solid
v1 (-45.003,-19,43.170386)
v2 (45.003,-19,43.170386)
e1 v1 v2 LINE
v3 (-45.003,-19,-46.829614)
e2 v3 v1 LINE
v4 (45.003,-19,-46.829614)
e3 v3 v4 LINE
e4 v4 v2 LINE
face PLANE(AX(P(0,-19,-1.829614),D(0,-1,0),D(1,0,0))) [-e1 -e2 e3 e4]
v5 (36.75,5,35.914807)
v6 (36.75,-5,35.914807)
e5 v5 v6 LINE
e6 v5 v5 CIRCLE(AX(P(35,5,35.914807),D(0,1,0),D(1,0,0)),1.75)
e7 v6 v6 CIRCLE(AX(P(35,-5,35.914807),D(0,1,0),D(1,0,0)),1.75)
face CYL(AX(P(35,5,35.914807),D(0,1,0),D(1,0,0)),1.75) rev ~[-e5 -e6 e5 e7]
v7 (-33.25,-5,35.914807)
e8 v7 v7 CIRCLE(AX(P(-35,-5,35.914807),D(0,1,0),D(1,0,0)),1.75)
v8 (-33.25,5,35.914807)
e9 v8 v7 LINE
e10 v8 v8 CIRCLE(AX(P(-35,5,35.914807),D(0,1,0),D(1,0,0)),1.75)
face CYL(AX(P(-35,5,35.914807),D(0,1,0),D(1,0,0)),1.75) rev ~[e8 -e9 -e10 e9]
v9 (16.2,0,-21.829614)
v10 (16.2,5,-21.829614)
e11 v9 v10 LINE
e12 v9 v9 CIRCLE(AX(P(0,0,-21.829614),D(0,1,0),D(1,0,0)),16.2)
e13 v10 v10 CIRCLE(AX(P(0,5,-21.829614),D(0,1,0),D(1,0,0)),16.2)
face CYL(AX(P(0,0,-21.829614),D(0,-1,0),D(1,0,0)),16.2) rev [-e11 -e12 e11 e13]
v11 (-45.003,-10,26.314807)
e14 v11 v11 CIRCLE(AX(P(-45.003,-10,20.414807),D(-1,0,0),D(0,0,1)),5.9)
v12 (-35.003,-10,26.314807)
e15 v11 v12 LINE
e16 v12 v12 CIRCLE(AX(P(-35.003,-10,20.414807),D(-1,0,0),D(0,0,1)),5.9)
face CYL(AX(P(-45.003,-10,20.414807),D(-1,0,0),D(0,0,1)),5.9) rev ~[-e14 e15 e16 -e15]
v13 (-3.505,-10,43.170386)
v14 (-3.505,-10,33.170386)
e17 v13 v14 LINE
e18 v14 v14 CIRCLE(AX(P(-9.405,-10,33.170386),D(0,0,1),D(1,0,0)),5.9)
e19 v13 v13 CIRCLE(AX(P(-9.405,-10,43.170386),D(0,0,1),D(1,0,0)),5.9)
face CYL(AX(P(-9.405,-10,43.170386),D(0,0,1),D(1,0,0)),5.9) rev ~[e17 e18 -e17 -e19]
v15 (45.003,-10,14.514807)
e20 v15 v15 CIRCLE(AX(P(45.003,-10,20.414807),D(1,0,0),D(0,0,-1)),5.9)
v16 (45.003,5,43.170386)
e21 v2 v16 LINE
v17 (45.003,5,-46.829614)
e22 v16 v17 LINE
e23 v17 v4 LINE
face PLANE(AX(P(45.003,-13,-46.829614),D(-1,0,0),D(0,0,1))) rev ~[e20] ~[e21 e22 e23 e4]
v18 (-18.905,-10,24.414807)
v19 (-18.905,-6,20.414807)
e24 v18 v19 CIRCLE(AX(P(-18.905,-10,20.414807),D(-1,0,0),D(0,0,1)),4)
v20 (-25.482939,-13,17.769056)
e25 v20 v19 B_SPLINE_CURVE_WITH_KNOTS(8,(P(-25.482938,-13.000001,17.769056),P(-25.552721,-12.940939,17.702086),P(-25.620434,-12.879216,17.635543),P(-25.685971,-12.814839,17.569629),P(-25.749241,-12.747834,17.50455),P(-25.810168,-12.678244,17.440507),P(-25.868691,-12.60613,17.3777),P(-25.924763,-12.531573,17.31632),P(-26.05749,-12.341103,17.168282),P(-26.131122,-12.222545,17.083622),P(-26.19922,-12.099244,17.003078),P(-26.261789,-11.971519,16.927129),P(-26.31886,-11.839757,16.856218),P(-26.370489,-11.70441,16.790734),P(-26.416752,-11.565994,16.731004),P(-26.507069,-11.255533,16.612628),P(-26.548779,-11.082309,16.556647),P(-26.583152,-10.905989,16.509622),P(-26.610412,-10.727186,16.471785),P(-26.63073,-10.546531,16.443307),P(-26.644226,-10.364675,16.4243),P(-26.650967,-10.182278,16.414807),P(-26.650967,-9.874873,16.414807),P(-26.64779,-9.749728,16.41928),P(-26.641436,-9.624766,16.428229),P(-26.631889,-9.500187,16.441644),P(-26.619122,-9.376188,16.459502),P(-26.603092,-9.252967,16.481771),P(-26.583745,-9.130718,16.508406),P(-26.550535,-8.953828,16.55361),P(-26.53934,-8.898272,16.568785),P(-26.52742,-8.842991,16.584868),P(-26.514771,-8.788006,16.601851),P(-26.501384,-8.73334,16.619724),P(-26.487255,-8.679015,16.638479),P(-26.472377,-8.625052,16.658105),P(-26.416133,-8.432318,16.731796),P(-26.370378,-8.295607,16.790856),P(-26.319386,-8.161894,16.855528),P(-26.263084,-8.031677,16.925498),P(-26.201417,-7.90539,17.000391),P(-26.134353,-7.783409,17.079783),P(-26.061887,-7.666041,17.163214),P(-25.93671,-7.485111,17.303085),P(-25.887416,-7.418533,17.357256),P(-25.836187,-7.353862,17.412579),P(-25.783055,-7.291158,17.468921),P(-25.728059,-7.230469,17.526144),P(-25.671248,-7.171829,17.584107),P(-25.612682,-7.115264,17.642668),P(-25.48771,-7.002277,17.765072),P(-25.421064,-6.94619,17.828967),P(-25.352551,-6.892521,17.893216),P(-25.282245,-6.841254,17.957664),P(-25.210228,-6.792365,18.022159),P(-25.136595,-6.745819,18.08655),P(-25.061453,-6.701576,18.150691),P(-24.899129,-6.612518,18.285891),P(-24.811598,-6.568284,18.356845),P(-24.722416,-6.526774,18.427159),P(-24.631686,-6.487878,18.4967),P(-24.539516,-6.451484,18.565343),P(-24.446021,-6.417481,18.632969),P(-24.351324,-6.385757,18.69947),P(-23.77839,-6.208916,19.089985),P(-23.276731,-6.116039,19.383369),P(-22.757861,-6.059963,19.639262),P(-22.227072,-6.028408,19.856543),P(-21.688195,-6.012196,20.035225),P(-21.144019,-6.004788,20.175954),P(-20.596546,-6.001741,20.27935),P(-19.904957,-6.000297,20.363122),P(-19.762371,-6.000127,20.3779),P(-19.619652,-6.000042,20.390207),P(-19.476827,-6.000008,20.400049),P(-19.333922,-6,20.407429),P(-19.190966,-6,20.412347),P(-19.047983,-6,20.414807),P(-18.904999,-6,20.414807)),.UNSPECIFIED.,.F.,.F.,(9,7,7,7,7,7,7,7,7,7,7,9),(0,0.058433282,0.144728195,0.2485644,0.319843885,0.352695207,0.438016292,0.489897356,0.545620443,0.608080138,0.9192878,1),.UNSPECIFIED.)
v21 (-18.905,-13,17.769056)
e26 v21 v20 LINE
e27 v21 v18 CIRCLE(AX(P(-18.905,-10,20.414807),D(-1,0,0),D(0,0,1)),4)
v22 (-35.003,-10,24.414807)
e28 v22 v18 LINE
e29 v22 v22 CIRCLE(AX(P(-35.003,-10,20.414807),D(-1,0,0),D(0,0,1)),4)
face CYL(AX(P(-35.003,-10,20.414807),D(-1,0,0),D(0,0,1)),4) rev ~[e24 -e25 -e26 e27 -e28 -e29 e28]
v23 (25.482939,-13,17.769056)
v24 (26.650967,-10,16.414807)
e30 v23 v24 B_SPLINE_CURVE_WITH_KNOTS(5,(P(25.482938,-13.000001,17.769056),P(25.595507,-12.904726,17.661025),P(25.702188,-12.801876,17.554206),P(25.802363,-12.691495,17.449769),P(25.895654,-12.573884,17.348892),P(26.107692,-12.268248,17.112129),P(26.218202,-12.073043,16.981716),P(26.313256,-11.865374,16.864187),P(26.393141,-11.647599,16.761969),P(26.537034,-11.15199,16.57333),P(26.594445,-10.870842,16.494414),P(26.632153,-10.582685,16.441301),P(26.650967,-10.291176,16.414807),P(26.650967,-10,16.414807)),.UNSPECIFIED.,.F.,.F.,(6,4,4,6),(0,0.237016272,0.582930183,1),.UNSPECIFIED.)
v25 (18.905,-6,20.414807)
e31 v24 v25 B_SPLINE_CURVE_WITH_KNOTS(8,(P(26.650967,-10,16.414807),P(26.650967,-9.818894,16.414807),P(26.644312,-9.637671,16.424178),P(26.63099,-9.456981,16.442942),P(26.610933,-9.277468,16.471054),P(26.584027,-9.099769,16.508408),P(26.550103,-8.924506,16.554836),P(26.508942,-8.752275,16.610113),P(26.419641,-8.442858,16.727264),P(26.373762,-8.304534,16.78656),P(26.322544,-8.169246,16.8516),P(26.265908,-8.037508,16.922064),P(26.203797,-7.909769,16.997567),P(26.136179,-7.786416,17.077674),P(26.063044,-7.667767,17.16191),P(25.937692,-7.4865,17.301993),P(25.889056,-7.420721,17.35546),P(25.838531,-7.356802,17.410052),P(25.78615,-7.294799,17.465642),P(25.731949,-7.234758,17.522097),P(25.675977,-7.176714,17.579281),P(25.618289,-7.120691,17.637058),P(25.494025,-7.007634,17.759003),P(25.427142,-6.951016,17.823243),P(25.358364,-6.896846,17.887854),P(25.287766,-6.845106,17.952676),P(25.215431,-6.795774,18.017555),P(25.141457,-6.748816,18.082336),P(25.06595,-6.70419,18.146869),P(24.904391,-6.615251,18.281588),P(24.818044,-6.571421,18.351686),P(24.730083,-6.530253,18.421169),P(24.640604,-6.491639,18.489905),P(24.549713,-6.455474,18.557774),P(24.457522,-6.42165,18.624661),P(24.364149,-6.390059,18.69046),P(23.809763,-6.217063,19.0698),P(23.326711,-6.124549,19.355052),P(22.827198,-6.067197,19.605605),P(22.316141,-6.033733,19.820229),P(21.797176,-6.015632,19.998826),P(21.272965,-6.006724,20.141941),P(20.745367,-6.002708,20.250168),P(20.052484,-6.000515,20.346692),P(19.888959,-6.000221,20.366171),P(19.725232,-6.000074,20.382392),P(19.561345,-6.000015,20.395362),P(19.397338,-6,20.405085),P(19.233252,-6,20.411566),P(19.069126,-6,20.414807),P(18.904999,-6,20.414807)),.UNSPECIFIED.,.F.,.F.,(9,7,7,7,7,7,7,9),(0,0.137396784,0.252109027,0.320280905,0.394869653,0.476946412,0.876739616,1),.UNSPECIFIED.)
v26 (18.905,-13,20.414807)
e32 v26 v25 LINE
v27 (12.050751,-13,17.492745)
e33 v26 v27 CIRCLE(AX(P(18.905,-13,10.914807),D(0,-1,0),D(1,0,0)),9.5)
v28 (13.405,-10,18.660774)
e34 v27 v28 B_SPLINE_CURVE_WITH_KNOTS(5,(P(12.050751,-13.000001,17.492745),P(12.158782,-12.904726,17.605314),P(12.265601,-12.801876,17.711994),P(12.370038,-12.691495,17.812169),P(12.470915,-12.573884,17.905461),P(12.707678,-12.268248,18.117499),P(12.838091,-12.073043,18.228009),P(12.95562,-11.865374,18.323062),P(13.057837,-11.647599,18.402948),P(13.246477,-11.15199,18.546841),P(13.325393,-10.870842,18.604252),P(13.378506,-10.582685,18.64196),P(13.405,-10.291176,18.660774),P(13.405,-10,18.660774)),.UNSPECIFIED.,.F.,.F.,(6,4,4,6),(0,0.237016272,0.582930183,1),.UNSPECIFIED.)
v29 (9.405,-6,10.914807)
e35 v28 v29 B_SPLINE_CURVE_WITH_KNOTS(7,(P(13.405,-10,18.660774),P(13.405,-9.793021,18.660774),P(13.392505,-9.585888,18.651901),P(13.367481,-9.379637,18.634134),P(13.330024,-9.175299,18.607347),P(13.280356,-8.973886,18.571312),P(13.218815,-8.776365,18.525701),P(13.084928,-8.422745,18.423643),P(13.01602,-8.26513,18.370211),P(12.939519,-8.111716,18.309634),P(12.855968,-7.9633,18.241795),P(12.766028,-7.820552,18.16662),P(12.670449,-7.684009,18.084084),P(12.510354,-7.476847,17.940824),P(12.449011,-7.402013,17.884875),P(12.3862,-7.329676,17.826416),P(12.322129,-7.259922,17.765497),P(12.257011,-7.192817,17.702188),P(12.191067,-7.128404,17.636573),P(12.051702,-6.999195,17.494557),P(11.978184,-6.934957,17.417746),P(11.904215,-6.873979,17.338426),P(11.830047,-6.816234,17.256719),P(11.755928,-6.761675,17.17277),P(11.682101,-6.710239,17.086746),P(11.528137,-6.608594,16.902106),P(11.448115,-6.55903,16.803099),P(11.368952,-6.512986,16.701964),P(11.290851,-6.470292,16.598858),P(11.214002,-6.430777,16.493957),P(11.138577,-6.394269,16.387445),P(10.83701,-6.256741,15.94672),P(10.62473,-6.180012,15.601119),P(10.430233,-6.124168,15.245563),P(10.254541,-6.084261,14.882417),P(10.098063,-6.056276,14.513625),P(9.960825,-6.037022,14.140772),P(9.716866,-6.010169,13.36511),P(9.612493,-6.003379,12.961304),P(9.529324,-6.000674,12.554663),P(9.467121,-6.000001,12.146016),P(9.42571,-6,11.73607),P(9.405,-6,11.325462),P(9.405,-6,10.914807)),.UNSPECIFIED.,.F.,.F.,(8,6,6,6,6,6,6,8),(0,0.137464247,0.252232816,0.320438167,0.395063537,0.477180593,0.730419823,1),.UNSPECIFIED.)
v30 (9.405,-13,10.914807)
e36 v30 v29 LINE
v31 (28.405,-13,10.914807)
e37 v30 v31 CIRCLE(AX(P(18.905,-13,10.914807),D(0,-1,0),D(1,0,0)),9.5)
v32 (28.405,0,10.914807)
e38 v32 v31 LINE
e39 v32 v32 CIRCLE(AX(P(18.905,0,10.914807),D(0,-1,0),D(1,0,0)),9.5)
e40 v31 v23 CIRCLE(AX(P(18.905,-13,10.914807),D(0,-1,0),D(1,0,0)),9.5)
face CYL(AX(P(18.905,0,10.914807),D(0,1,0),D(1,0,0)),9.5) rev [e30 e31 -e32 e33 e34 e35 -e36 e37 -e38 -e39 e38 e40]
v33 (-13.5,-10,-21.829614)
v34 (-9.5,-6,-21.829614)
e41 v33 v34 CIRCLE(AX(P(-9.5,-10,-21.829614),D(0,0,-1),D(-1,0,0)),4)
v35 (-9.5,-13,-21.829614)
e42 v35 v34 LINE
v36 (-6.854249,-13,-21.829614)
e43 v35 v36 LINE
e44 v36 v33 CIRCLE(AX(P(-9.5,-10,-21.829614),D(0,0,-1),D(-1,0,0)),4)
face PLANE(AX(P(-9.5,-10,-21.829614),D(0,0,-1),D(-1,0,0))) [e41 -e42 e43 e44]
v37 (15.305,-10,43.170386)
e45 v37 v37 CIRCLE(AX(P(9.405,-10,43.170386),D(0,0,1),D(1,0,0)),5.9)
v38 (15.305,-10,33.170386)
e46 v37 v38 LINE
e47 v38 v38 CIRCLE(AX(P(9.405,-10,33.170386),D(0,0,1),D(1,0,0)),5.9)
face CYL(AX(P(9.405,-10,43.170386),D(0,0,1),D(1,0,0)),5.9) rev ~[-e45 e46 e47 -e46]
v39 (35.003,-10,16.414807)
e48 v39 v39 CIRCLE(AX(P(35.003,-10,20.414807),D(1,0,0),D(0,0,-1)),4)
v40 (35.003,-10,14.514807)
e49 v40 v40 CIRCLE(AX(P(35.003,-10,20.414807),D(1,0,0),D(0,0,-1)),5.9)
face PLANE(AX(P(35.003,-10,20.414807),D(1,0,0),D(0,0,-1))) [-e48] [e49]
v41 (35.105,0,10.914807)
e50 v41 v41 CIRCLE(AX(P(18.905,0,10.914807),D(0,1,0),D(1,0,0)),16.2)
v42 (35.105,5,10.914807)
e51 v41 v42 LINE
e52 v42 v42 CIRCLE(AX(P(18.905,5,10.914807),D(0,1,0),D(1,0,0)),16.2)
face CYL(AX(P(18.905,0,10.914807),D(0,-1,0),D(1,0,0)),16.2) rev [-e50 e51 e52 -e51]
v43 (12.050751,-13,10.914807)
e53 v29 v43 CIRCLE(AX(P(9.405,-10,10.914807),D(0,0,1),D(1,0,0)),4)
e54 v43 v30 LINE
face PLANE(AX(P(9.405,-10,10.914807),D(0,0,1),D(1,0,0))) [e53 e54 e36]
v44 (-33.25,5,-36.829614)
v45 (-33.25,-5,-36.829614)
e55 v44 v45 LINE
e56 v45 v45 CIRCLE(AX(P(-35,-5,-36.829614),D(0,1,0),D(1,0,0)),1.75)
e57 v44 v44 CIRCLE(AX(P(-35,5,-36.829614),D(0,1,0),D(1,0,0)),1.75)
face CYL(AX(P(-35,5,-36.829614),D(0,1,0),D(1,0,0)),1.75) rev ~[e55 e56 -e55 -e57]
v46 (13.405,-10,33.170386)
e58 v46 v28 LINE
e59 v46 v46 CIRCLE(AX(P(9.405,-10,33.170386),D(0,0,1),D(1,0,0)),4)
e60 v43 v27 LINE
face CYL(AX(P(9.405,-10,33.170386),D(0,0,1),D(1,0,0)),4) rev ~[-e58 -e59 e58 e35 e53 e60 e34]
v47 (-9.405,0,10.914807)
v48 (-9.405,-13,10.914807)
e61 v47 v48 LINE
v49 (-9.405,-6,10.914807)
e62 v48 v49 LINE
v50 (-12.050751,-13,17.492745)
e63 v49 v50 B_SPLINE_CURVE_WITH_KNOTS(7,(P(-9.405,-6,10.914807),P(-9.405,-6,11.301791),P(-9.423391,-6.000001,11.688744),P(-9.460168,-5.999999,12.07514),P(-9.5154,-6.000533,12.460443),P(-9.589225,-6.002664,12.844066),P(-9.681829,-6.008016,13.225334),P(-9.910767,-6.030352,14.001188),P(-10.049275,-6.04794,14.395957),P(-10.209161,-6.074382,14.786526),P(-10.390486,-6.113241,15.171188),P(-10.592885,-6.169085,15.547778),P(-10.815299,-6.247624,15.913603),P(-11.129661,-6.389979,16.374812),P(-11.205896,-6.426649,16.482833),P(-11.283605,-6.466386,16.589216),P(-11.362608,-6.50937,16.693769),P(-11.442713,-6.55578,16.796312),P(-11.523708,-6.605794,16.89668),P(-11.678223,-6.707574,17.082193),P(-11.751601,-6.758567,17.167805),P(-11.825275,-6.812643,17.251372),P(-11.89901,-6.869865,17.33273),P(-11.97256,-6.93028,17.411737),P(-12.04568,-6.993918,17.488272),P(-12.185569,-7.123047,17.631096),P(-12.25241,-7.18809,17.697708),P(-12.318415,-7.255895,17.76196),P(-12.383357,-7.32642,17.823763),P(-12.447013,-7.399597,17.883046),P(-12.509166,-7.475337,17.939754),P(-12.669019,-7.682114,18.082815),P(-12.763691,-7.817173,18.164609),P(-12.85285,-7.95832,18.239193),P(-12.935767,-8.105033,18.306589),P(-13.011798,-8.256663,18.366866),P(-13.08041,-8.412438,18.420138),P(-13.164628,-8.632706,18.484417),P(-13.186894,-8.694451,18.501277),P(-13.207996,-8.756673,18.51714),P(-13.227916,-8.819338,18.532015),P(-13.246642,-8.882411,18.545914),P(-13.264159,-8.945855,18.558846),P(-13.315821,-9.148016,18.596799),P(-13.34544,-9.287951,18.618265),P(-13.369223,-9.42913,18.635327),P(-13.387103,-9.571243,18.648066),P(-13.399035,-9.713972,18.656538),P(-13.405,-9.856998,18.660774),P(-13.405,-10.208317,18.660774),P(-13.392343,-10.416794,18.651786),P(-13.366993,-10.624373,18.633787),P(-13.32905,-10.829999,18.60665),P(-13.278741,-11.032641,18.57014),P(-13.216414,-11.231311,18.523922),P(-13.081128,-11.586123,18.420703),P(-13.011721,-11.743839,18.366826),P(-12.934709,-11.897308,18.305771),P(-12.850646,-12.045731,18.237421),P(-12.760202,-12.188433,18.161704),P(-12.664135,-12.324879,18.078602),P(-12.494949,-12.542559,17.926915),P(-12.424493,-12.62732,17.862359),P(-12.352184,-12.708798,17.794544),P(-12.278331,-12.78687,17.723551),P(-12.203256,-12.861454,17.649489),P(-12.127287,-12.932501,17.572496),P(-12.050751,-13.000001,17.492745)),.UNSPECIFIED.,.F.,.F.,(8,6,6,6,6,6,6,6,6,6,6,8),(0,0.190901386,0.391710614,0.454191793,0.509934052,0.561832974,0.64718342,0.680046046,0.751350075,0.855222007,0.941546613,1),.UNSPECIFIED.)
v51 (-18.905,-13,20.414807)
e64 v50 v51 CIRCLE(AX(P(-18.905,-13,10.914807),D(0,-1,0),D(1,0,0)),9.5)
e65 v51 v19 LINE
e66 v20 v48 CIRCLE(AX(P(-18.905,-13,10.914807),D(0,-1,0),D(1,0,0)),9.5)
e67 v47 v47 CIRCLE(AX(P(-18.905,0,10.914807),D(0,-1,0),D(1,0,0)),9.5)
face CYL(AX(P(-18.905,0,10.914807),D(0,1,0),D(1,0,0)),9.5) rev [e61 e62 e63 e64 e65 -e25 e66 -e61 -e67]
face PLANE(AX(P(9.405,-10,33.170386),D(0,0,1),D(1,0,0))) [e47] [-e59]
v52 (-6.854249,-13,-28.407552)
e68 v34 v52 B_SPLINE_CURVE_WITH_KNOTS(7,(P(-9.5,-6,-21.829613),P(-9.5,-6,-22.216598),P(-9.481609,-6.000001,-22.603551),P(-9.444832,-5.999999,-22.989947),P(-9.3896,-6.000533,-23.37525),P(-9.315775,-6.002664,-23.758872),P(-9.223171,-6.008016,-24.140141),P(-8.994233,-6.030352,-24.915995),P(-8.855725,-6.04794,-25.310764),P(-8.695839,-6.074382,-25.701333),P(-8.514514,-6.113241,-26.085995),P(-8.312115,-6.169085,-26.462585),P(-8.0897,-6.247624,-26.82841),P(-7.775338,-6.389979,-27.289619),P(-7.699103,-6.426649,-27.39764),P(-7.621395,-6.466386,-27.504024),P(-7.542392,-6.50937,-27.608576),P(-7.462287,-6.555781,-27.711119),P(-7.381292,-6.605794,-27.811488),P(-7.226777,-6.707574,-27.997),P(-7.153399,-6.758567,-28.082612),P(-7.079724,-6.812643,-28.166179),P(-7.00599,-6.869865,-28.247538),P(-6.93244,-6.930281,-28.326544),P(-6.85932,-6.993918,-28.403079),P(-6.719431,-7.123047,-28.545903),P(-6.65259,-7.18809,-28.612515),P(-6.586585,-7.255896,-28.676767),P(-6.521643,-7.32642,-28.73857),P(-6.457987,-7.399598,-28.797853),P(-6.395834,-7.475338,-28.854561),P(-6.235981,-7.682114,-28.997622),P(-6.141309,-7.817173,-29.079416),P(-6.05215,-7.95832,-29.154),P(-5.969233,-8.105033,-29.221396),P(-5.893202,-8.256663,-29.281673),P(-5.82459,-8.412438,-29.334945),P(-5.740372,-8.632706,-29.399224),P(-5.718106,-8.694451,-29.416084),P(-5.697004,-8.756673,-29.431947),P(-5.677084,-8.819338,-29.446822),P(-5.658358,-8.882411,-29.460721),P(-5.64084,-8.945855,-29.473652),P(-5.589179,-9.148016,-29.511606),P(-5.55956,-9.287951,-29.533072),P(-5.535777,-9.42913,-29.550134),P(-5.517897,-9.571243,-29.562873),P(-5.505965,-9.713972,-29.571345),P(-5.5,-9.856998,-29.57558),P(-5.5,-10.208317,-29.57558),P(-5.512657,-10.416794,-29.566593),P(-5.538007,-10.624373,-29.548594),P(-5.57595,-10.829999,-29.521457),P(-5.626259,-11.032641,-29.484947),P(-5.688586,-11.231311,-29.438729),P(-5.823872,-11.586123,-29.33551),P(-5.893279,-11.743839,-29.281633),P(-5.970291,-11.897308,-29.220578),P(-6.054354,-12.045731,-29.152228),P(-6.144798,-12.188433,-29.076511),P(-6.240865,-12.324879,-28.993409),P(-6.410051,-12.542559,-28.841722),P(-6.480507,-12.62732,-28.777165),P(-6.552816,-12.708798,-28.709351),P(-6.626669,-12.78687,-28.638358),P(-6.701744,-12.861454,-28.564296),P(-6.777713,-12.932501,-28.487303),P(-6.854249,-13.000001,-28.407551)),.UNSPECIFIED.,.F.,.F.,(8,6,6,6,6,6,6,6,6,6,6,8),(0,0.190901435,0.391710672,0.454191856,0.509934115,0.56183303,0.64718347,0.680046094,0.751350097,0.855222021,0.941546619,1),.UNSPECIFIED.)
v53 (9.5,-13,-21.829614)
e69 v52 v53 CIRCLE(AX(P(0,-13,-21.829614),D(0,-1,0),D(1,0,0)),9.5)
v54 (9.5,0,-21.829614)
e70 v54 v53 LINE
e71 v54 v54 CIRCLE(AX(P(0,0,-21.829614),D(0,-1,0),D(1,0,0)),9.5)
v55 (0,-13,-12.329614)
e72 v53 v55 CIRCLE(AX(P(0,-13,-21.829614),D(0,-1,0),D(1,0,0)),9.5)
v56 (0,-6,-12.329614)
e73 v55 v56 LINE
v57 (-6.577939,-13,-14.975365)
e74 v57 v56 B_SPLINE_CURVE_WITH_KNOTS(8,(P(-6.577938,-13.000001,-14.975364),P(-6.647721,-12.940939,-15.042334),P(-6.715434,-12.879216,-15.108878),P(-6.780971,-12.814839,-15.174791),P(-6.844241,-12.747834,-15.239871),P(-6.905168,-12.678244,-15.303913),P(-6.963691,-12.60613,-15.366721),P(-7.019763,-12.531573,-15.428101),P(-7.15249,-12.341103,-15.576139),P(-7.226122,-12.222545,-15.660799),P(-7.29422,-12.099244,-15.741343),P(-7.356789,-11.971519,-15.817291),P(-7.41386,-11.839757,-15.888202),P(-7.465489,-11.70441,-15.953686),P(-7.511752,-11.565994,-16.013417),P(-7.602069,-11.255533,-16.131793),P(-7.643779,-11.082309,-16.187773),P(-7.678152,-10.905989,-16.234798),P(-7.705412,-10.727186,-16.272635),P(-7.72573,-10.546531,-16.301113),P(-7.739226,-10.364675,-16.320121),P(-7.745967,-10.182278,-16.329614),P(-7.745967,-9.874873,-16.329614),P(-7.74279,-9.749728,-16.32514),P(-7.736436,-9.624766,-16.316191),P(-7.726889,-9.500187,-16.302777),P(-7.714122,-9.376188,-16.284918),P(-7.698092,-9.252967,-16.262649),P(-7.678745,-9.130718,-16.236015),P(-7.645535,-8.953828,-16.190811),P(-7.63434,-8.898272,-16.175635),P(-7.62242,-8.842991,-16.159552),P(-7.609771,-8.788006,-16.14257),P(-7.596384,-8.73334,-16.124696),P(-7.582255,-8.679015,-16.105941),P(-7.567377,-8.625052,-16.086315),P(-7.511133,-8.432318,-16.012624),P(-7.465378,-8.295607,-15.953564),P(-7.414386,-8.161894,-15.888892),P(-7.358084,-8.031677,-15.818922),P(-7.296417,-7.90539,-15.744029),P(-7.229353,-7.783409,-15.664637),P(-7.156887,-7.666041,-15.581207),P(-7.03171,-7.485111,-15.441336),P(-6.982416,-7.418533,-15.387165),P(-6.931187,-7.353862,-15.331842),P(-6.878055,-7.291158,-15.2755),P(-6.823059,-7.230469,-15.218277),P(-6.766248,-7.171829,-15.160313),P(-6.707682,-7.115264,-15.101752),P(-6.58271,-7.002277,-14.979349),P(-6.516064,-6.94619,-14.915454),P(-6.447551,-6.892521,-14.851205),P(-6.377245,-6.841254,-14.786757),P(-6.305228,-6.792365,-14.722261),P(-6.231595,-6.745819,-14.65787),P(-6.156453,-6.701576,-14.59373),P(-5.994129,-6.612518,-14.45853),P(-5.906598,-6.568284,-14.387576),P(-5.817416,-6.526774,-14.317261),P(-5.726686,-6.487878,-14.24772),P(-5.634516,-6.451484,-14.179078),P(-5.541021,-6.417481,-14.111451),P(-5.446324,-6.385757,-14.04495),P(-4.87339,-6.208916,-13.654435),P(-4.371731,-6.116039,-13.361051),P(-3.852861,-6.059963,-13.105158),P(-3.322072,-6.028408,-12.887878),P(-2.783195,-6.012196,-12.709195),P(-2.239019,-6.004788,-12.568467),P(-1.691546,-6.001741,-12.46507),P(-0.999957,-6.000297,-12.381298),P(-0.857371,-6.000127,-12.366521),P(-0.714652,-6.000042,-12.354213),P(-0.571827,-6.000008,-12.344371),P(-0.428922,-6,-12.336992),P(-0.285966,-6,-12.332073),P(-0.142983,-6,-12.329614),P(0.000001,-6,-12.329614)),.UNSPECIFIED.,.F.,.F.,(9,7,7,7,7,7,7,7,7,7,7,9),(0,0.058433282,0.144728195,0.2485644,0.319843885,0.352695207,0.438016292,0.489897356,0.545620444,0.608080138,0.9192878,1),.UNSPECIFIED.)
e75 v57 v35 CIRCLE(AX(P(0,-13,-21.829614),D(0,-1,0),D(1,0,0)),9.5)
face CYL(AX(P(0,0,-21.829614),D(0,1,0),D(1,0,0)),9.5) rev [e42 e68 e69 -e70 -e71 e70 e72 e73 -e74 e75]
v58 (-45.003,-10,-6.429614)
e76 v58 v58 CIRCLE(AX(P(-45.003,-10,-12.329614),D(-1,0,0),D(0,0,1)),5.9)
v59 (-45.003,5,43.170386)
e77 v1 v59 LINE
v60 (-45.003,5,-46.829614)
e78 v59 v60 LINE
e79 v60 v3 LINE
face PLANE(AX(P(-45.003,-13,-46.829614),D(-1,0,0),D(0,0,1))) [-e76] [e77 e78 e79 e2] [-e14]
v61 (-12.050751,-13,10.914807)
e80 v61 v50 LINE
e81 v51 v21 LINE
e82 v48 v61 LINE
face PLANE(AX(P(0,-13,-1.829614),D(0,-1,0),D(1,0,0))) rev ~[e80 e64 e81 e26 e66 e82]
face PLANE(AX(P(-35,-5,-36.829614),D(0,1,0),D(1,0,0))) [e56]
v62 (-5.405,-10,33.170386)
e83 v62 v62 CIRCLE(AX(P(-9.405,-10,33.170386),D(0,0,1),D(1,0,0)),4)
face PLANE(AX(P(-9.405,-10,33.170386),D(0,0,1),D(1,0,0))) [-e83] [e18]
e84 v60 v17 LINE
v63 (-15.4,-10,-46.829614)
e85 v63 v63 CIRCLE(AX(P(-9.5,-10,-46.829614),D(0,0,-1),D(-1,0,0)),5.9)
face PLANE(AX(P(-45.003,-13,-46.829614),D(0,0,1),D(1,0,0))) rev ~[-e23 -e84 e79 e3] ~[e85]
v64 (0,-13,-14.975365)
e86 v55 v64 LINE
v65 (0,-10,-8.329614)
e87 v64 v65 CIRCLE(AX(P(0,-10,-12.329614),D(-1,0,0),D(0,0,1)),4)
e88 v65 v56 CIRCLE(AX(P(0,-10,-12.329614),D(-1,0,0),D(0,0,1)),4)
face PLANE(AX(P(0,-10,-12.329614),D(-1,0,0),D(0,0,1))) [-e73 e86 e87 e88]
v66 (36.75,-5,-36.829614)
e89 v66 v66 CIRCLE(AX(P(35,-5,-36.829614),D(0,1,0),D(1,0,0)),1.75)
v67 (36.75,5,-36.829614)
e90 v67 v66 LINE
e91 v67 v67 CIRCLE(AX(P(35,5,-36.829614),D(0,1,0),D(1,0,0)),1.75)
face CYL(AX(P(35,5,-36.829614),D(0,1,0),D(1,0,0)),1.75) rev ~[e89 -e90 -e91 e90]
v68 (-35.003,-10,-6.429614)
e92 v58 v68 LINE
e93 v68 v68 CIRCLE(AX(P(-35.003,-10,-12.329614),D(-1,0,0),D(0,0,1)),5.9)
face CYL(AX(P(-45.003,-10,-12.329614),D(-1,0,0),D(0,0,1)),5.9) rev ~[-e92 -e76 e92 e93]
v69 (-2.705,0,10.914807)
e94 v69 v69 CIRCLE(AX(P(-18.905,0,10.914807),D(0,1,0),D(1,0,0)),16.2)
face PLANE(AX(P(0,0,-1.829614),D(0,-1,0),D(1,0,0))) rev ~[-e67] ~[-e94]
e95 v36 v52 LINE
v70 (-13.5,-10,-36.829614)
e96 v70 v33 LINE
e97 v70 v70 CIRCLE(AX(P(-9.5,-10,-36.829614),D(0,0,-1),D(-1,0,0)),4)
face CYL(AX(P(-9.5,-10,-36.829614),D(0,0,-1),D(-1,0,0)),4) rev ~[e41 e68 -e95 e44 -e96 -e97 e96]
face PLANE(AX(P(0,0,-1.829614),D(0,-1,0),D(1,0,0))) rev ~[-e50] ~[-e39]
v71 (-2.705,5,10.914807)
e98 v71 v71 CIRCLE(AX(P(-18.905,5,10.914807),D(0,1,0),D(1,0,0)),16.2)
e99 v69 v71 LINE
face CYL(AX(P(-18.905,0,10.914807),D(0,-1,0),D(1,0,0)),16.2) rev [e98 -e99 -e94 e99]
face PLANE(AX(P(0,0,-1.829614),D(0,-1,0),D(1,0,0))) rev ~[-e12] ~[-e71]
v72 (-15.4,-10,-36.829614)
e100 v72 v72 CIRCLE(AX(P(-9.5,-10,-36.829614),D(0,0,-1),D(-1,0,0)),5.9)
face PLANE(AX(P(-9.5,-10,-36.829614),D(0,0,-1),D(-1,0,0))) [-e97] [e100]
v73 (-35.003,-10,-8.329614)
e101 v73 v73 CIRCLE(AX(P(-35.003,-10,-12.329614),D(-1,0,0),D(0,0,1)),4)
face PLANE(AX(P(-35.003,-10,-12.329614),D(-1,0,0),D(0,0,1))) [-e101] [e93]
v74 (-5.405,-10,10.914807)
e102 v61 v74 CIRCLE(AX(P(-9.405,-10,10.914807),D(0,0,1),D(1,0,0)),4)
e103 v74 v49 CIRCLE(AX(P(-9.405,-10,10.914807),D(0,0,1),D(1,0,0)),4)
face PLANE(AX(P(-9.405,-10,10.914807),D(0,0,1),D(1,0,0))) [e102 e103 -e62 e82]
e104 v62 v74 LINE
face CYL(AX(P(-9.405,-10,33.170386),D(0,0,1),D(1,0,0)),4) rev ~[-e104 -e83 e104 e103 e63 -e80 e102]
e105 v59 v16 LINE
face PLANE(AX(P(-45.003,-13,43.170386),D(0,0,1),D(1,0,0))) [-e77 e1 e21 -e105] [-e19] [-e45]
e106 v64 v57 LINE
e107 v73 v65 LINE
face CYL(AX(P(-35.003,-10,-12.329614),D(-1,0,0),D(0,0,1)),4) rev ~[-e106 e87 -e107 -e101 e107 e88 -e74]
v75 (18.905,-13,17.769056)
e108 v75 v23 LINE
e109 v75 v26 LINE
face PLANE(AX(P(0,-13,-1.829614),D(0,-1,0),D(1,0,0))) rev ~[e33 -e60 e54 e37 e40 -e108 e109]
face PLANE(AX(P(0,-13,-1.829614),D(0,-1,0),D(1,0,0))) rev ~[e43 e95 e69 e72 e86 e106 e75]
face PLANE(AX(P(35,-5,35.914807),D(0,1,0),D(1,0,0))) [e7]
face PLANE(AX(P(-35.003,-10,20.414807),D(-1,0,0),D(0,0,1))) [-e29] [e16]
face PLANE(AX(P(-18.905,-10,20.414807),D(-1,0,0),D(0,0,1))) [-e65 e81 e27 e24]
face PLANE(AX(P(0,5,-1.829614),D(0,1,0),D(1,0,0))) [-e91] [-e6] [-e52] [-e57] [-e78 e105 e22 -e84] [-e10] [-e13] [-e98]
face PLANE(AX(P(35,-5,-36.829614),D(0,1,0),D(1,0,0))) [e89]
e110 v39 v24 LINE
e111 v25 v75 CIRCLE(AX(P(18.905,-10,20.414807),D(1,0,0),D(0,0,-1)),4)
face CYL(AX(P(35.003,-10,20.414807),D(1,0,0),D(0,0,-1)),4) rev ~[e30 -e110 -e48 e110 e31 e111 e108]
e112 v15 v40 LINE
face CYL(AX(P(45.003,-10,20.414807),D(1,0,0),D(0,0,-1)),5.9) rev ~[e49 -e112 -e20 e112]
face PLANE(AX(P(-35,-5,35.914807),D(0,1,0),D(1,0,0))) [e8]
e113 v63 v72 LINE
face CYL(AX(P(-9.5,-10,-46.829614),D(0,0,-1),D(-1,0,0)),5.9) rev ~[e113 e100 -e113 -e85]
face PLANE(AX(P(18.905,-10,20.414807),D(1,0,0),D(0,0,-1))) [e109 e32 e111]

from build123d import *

# Parameters (mm, degrees)
SKETCH1_W                = 90.006
SKETCH1_H                = 90
SKETCH1_R                = 16.2
ALPHASENSE_HOUSING_DEPTH = 5
SKETCH2_W                = 90.006
SKETCH2_H                = 90
SKETCH2_R                = 9.5
CHAMBER_HOUSING_DEPTH    = 13
SKETCH3_W                = 90.006
SKETCH3_H                = 90
BASE_DEPTH               = 6
SKETCH5_R                = 5.9
DRILL_DEPTH              = 10
SKETCH6_R                = 5.9
DRILL2_DEPTH             = 10
SKETCH7_R                = 5.9
DRILL3_DEPTH             = 10
SKETCH8_R                = 5.9
INLETDRILL_DEPTH         = 10
SKETCH10_R               = 5.9
DRILL5_DEPTH             = 10
SKETCH11_R               = 5.9
OUTLEDRILL_DEPTH         = 10
SKETCH12_R               = 1.75
CLIPPINGTHREADS_DEPTH    = 10
SKETCH13_R               = 4
CUT_EXTRUDE1_DEPTH       = 35.003
SKETCH14_R               = 4
CUT_EXTRUDE2_DEPTH       = 16.098
SKETCH15_R               = 4
CUT_EXTRUDE3_DEPTH       = 22.255579
SKETCH16_R               = 4
CUT_EXTRUDE4_DEPTH       = 22.255579
SKETCH17_R               = 4
CUT_EXTRUDE5_DEPTH       = 16.098
SKETCH18_R               = 4
CUT_EXTRUDE6_DEPTH       = 15


with BuildPart() as part:
    # Sketch1 → Alphasense_housing (new body)
    with BuildSketch(Plane(origin=(0, 0, 0), x_dir=(1, 0, 0), z_dir=(0, 1, 0))):
        with Locations((0, 1.829613678)):
            Rectangle(SKETCH1_W, SKETCH1_H)
        with Locations((0, 21.829613678)):
            Circle(SKETCH1_R, mode=Mode.SUBTRACT)
        with Locations((-18.905, -10.914806839)):
            Circle(SKETCH1_R, mode=Mode.SUBTRACT)
        with Locations((18.905, -10.914806839)):
            Circle(SKETCH1_R, mode=Mode.SUBTRACT)
    extrude(amount=ALPHASENSE_HOUSING_DEPTH)

    # Sketch2 → Chamber_housing (add)
    with BuildSketch(Plane.XZ):
        with Locations((0, -1.829613678)):
            Rectangle(SKETCH2_W, SKETCH2_H)
        with Locations((-18.905, 10.914806839)):
            Circle(SKETCH2_R, mode=Mode.SUBTRACT)
        with Locations((18.905, 10.914806839)):
            Circle(SKETCH2_R, mode=Mode.SUBTRACT)
        with Locations((0, -21.829613678)):
            Circle(SKETCH2_R, mode=Mode.SUBTRACT)
    extrude(amount=CHAMBER_HOUSING_DEPTH)

    # Sketch3 → Base (add)
    with BuildSketch(Plane.XZ.offset(13)):
        with Locations((0, -1.829613678)):
            Rectangle(SKETCH3_W, SKETCH3_H)
    extrude(amount=BASE_DEPTH)

    # Sketch5 → Drill (cut)
    with BuildSketch(Plane.ZY.offset(45.003)):
        with Locations((20.414806839, -10)):
            Circle(SKETCH5_R)
    extrude(amount=-DRILL_DEPTH, mode=Mode.SUBTRACT)

    # Sketch6 → Drill2 (cut)
    with BuildSketch(Plane.XY.offset(43.170386322)):
        with Locations((-9.405, -10)):
            Circle(SKETCH6_R)
    extrude(amount=-DRILL2_DEPTH, mode=Mode.SUBTRACT)

    # Sketch7 → Drill3 (cut)
    with BuildSketch(Plane.XY.offset(43.170386322)):
        with Locations((9.405, -10)):
            Circle(SKETCH7_R)
    extrude(amount=-DRILL3_DEPTH, mode=Mode.SUBTRACT)

    # Sketch8 → InletDrill (cut)
    with BuildSketch(Plane(origin=(45.003, 0, 0), x_dir=(0, 0, -1), z_dir=(1, 0, 0))):
        with Locations((-20.414806839, -10)):
            Circle(SKETCH8_R)
    extrude(amount=-INLETDRILL_DEPTH, mode=Mode.SUBTRACT)

    # Sketch10 → Drill5 (cut)
    with BuildSketch(Plane.ZY.offset(45.003)):
        with Locations((-12.329613678, -10)):
            Circle(SKETCH10_R)
    extrude(amount=-DRILL5_DEPTH, mode=Mode.SUBTRACT)

    # Sketch11 → OutleDrill (cut)
    with BuildSketch(Plane(origin=(0, 0, -46.829613678), x_dir=(-1, 0, 0), z_dir=(0, 0, -1))):
        with Locations((9.5, -10)):
            Circle(SKETCH11_R)
    extrude(amount=-OUTLEDRILL_DEPTH, mode=Mode.SUBTRACT)

    # Sketch12 → ClippingThreads (cut)
    with BuildSketch(Plane(origin=(0, 5, 0), x_dir=(1, 0, 0), z_dir=(0, 1, 0))):
        with Locations((-35, 36.829613678)):
            Circle(SKETCH12_R)
        with Locations((35, 36.829613678)):
            Circle(SKETCH12_R)
        with Locations((-35, -35.914806839)):
            Circle(SKETCH12_R)
        with Locations((35, -35.914806839)):
            Circle(SKETCH12_R)
    extrude(amount=-CLIPPINGTHREADS_DEPTH, mode=Mode.SUBTRACT)

    # Sketch13 → Cut-Extrude1 (cut)
    with BuildSketch(Plane.ZY.offset(35.003)):
        with Locations((-12.329613678, -10)):
            Circle(SKETCH13_R)
    extrude(amount=-CUT_EXTRUDE1_DEPTH, mode=Mode.SUBTRACT)

    # Sketch14 → Cut-Extrude2 (cut)
    with BuildSketch(Plane.ZY.offset(35.003)):
        with Locations((20.414806839, -10)):
            Circle(SKETCH14_R)
    extrude(amount=-CUT_EXTRUDE2_DEPTH, mode=Mode.SUBTRACT)

    # Sketch15 → Cut-Extrude3 (cut)
    with BuildSketch(Plane.XY.offset(33.170386322)):
        with Locations((-9.405, -10)):
            Circle(SKETCH15_R)
    extrude(amount=-CUT_EXTRUDE3_DEPTH, mode=Mode.SUBTRACT)

    # Sketch16 → Cut-Extrude4 (cut)
    with BuildSketch(Plane.XY.offset(33.170386322)):
        with Locations((9.405, -10)):
            Circle(SKETCH16_R)
    extrude(amount=-CUT_EXTRUDE4_DEPTH, mode=Mode.SUBTRACT)

    # Sketch17 → Cut-Extrude5 (cut)
    with BuildSketch(Plane(origin=(35.003, 0, 0), x_dir=(0, 0, -1), z_dir=(1, 0, 0))):
        with Locations((-20.414806839, -10)):
            Circle(SKETCH17_R)
    extrude(amount=-CUT_EXTRUDE5_DEPTH, mode=Mode.SUBTRACT)

    # Sketch18 → Cut-Extrude6 (cut)
    with BuildSketch(Plane(origin=(0, 0, -36.829613678), x_dir=(-1, 0, 0), z_dir=(0, 0, -1))):
        with Locations((9.5, -10)):
            Circle(SKETCH18_R)
    extrude(amount=-CUT_EXTRUDE6_DEPTH, mode=Mode.SUBTRACT)


solid = part.part
